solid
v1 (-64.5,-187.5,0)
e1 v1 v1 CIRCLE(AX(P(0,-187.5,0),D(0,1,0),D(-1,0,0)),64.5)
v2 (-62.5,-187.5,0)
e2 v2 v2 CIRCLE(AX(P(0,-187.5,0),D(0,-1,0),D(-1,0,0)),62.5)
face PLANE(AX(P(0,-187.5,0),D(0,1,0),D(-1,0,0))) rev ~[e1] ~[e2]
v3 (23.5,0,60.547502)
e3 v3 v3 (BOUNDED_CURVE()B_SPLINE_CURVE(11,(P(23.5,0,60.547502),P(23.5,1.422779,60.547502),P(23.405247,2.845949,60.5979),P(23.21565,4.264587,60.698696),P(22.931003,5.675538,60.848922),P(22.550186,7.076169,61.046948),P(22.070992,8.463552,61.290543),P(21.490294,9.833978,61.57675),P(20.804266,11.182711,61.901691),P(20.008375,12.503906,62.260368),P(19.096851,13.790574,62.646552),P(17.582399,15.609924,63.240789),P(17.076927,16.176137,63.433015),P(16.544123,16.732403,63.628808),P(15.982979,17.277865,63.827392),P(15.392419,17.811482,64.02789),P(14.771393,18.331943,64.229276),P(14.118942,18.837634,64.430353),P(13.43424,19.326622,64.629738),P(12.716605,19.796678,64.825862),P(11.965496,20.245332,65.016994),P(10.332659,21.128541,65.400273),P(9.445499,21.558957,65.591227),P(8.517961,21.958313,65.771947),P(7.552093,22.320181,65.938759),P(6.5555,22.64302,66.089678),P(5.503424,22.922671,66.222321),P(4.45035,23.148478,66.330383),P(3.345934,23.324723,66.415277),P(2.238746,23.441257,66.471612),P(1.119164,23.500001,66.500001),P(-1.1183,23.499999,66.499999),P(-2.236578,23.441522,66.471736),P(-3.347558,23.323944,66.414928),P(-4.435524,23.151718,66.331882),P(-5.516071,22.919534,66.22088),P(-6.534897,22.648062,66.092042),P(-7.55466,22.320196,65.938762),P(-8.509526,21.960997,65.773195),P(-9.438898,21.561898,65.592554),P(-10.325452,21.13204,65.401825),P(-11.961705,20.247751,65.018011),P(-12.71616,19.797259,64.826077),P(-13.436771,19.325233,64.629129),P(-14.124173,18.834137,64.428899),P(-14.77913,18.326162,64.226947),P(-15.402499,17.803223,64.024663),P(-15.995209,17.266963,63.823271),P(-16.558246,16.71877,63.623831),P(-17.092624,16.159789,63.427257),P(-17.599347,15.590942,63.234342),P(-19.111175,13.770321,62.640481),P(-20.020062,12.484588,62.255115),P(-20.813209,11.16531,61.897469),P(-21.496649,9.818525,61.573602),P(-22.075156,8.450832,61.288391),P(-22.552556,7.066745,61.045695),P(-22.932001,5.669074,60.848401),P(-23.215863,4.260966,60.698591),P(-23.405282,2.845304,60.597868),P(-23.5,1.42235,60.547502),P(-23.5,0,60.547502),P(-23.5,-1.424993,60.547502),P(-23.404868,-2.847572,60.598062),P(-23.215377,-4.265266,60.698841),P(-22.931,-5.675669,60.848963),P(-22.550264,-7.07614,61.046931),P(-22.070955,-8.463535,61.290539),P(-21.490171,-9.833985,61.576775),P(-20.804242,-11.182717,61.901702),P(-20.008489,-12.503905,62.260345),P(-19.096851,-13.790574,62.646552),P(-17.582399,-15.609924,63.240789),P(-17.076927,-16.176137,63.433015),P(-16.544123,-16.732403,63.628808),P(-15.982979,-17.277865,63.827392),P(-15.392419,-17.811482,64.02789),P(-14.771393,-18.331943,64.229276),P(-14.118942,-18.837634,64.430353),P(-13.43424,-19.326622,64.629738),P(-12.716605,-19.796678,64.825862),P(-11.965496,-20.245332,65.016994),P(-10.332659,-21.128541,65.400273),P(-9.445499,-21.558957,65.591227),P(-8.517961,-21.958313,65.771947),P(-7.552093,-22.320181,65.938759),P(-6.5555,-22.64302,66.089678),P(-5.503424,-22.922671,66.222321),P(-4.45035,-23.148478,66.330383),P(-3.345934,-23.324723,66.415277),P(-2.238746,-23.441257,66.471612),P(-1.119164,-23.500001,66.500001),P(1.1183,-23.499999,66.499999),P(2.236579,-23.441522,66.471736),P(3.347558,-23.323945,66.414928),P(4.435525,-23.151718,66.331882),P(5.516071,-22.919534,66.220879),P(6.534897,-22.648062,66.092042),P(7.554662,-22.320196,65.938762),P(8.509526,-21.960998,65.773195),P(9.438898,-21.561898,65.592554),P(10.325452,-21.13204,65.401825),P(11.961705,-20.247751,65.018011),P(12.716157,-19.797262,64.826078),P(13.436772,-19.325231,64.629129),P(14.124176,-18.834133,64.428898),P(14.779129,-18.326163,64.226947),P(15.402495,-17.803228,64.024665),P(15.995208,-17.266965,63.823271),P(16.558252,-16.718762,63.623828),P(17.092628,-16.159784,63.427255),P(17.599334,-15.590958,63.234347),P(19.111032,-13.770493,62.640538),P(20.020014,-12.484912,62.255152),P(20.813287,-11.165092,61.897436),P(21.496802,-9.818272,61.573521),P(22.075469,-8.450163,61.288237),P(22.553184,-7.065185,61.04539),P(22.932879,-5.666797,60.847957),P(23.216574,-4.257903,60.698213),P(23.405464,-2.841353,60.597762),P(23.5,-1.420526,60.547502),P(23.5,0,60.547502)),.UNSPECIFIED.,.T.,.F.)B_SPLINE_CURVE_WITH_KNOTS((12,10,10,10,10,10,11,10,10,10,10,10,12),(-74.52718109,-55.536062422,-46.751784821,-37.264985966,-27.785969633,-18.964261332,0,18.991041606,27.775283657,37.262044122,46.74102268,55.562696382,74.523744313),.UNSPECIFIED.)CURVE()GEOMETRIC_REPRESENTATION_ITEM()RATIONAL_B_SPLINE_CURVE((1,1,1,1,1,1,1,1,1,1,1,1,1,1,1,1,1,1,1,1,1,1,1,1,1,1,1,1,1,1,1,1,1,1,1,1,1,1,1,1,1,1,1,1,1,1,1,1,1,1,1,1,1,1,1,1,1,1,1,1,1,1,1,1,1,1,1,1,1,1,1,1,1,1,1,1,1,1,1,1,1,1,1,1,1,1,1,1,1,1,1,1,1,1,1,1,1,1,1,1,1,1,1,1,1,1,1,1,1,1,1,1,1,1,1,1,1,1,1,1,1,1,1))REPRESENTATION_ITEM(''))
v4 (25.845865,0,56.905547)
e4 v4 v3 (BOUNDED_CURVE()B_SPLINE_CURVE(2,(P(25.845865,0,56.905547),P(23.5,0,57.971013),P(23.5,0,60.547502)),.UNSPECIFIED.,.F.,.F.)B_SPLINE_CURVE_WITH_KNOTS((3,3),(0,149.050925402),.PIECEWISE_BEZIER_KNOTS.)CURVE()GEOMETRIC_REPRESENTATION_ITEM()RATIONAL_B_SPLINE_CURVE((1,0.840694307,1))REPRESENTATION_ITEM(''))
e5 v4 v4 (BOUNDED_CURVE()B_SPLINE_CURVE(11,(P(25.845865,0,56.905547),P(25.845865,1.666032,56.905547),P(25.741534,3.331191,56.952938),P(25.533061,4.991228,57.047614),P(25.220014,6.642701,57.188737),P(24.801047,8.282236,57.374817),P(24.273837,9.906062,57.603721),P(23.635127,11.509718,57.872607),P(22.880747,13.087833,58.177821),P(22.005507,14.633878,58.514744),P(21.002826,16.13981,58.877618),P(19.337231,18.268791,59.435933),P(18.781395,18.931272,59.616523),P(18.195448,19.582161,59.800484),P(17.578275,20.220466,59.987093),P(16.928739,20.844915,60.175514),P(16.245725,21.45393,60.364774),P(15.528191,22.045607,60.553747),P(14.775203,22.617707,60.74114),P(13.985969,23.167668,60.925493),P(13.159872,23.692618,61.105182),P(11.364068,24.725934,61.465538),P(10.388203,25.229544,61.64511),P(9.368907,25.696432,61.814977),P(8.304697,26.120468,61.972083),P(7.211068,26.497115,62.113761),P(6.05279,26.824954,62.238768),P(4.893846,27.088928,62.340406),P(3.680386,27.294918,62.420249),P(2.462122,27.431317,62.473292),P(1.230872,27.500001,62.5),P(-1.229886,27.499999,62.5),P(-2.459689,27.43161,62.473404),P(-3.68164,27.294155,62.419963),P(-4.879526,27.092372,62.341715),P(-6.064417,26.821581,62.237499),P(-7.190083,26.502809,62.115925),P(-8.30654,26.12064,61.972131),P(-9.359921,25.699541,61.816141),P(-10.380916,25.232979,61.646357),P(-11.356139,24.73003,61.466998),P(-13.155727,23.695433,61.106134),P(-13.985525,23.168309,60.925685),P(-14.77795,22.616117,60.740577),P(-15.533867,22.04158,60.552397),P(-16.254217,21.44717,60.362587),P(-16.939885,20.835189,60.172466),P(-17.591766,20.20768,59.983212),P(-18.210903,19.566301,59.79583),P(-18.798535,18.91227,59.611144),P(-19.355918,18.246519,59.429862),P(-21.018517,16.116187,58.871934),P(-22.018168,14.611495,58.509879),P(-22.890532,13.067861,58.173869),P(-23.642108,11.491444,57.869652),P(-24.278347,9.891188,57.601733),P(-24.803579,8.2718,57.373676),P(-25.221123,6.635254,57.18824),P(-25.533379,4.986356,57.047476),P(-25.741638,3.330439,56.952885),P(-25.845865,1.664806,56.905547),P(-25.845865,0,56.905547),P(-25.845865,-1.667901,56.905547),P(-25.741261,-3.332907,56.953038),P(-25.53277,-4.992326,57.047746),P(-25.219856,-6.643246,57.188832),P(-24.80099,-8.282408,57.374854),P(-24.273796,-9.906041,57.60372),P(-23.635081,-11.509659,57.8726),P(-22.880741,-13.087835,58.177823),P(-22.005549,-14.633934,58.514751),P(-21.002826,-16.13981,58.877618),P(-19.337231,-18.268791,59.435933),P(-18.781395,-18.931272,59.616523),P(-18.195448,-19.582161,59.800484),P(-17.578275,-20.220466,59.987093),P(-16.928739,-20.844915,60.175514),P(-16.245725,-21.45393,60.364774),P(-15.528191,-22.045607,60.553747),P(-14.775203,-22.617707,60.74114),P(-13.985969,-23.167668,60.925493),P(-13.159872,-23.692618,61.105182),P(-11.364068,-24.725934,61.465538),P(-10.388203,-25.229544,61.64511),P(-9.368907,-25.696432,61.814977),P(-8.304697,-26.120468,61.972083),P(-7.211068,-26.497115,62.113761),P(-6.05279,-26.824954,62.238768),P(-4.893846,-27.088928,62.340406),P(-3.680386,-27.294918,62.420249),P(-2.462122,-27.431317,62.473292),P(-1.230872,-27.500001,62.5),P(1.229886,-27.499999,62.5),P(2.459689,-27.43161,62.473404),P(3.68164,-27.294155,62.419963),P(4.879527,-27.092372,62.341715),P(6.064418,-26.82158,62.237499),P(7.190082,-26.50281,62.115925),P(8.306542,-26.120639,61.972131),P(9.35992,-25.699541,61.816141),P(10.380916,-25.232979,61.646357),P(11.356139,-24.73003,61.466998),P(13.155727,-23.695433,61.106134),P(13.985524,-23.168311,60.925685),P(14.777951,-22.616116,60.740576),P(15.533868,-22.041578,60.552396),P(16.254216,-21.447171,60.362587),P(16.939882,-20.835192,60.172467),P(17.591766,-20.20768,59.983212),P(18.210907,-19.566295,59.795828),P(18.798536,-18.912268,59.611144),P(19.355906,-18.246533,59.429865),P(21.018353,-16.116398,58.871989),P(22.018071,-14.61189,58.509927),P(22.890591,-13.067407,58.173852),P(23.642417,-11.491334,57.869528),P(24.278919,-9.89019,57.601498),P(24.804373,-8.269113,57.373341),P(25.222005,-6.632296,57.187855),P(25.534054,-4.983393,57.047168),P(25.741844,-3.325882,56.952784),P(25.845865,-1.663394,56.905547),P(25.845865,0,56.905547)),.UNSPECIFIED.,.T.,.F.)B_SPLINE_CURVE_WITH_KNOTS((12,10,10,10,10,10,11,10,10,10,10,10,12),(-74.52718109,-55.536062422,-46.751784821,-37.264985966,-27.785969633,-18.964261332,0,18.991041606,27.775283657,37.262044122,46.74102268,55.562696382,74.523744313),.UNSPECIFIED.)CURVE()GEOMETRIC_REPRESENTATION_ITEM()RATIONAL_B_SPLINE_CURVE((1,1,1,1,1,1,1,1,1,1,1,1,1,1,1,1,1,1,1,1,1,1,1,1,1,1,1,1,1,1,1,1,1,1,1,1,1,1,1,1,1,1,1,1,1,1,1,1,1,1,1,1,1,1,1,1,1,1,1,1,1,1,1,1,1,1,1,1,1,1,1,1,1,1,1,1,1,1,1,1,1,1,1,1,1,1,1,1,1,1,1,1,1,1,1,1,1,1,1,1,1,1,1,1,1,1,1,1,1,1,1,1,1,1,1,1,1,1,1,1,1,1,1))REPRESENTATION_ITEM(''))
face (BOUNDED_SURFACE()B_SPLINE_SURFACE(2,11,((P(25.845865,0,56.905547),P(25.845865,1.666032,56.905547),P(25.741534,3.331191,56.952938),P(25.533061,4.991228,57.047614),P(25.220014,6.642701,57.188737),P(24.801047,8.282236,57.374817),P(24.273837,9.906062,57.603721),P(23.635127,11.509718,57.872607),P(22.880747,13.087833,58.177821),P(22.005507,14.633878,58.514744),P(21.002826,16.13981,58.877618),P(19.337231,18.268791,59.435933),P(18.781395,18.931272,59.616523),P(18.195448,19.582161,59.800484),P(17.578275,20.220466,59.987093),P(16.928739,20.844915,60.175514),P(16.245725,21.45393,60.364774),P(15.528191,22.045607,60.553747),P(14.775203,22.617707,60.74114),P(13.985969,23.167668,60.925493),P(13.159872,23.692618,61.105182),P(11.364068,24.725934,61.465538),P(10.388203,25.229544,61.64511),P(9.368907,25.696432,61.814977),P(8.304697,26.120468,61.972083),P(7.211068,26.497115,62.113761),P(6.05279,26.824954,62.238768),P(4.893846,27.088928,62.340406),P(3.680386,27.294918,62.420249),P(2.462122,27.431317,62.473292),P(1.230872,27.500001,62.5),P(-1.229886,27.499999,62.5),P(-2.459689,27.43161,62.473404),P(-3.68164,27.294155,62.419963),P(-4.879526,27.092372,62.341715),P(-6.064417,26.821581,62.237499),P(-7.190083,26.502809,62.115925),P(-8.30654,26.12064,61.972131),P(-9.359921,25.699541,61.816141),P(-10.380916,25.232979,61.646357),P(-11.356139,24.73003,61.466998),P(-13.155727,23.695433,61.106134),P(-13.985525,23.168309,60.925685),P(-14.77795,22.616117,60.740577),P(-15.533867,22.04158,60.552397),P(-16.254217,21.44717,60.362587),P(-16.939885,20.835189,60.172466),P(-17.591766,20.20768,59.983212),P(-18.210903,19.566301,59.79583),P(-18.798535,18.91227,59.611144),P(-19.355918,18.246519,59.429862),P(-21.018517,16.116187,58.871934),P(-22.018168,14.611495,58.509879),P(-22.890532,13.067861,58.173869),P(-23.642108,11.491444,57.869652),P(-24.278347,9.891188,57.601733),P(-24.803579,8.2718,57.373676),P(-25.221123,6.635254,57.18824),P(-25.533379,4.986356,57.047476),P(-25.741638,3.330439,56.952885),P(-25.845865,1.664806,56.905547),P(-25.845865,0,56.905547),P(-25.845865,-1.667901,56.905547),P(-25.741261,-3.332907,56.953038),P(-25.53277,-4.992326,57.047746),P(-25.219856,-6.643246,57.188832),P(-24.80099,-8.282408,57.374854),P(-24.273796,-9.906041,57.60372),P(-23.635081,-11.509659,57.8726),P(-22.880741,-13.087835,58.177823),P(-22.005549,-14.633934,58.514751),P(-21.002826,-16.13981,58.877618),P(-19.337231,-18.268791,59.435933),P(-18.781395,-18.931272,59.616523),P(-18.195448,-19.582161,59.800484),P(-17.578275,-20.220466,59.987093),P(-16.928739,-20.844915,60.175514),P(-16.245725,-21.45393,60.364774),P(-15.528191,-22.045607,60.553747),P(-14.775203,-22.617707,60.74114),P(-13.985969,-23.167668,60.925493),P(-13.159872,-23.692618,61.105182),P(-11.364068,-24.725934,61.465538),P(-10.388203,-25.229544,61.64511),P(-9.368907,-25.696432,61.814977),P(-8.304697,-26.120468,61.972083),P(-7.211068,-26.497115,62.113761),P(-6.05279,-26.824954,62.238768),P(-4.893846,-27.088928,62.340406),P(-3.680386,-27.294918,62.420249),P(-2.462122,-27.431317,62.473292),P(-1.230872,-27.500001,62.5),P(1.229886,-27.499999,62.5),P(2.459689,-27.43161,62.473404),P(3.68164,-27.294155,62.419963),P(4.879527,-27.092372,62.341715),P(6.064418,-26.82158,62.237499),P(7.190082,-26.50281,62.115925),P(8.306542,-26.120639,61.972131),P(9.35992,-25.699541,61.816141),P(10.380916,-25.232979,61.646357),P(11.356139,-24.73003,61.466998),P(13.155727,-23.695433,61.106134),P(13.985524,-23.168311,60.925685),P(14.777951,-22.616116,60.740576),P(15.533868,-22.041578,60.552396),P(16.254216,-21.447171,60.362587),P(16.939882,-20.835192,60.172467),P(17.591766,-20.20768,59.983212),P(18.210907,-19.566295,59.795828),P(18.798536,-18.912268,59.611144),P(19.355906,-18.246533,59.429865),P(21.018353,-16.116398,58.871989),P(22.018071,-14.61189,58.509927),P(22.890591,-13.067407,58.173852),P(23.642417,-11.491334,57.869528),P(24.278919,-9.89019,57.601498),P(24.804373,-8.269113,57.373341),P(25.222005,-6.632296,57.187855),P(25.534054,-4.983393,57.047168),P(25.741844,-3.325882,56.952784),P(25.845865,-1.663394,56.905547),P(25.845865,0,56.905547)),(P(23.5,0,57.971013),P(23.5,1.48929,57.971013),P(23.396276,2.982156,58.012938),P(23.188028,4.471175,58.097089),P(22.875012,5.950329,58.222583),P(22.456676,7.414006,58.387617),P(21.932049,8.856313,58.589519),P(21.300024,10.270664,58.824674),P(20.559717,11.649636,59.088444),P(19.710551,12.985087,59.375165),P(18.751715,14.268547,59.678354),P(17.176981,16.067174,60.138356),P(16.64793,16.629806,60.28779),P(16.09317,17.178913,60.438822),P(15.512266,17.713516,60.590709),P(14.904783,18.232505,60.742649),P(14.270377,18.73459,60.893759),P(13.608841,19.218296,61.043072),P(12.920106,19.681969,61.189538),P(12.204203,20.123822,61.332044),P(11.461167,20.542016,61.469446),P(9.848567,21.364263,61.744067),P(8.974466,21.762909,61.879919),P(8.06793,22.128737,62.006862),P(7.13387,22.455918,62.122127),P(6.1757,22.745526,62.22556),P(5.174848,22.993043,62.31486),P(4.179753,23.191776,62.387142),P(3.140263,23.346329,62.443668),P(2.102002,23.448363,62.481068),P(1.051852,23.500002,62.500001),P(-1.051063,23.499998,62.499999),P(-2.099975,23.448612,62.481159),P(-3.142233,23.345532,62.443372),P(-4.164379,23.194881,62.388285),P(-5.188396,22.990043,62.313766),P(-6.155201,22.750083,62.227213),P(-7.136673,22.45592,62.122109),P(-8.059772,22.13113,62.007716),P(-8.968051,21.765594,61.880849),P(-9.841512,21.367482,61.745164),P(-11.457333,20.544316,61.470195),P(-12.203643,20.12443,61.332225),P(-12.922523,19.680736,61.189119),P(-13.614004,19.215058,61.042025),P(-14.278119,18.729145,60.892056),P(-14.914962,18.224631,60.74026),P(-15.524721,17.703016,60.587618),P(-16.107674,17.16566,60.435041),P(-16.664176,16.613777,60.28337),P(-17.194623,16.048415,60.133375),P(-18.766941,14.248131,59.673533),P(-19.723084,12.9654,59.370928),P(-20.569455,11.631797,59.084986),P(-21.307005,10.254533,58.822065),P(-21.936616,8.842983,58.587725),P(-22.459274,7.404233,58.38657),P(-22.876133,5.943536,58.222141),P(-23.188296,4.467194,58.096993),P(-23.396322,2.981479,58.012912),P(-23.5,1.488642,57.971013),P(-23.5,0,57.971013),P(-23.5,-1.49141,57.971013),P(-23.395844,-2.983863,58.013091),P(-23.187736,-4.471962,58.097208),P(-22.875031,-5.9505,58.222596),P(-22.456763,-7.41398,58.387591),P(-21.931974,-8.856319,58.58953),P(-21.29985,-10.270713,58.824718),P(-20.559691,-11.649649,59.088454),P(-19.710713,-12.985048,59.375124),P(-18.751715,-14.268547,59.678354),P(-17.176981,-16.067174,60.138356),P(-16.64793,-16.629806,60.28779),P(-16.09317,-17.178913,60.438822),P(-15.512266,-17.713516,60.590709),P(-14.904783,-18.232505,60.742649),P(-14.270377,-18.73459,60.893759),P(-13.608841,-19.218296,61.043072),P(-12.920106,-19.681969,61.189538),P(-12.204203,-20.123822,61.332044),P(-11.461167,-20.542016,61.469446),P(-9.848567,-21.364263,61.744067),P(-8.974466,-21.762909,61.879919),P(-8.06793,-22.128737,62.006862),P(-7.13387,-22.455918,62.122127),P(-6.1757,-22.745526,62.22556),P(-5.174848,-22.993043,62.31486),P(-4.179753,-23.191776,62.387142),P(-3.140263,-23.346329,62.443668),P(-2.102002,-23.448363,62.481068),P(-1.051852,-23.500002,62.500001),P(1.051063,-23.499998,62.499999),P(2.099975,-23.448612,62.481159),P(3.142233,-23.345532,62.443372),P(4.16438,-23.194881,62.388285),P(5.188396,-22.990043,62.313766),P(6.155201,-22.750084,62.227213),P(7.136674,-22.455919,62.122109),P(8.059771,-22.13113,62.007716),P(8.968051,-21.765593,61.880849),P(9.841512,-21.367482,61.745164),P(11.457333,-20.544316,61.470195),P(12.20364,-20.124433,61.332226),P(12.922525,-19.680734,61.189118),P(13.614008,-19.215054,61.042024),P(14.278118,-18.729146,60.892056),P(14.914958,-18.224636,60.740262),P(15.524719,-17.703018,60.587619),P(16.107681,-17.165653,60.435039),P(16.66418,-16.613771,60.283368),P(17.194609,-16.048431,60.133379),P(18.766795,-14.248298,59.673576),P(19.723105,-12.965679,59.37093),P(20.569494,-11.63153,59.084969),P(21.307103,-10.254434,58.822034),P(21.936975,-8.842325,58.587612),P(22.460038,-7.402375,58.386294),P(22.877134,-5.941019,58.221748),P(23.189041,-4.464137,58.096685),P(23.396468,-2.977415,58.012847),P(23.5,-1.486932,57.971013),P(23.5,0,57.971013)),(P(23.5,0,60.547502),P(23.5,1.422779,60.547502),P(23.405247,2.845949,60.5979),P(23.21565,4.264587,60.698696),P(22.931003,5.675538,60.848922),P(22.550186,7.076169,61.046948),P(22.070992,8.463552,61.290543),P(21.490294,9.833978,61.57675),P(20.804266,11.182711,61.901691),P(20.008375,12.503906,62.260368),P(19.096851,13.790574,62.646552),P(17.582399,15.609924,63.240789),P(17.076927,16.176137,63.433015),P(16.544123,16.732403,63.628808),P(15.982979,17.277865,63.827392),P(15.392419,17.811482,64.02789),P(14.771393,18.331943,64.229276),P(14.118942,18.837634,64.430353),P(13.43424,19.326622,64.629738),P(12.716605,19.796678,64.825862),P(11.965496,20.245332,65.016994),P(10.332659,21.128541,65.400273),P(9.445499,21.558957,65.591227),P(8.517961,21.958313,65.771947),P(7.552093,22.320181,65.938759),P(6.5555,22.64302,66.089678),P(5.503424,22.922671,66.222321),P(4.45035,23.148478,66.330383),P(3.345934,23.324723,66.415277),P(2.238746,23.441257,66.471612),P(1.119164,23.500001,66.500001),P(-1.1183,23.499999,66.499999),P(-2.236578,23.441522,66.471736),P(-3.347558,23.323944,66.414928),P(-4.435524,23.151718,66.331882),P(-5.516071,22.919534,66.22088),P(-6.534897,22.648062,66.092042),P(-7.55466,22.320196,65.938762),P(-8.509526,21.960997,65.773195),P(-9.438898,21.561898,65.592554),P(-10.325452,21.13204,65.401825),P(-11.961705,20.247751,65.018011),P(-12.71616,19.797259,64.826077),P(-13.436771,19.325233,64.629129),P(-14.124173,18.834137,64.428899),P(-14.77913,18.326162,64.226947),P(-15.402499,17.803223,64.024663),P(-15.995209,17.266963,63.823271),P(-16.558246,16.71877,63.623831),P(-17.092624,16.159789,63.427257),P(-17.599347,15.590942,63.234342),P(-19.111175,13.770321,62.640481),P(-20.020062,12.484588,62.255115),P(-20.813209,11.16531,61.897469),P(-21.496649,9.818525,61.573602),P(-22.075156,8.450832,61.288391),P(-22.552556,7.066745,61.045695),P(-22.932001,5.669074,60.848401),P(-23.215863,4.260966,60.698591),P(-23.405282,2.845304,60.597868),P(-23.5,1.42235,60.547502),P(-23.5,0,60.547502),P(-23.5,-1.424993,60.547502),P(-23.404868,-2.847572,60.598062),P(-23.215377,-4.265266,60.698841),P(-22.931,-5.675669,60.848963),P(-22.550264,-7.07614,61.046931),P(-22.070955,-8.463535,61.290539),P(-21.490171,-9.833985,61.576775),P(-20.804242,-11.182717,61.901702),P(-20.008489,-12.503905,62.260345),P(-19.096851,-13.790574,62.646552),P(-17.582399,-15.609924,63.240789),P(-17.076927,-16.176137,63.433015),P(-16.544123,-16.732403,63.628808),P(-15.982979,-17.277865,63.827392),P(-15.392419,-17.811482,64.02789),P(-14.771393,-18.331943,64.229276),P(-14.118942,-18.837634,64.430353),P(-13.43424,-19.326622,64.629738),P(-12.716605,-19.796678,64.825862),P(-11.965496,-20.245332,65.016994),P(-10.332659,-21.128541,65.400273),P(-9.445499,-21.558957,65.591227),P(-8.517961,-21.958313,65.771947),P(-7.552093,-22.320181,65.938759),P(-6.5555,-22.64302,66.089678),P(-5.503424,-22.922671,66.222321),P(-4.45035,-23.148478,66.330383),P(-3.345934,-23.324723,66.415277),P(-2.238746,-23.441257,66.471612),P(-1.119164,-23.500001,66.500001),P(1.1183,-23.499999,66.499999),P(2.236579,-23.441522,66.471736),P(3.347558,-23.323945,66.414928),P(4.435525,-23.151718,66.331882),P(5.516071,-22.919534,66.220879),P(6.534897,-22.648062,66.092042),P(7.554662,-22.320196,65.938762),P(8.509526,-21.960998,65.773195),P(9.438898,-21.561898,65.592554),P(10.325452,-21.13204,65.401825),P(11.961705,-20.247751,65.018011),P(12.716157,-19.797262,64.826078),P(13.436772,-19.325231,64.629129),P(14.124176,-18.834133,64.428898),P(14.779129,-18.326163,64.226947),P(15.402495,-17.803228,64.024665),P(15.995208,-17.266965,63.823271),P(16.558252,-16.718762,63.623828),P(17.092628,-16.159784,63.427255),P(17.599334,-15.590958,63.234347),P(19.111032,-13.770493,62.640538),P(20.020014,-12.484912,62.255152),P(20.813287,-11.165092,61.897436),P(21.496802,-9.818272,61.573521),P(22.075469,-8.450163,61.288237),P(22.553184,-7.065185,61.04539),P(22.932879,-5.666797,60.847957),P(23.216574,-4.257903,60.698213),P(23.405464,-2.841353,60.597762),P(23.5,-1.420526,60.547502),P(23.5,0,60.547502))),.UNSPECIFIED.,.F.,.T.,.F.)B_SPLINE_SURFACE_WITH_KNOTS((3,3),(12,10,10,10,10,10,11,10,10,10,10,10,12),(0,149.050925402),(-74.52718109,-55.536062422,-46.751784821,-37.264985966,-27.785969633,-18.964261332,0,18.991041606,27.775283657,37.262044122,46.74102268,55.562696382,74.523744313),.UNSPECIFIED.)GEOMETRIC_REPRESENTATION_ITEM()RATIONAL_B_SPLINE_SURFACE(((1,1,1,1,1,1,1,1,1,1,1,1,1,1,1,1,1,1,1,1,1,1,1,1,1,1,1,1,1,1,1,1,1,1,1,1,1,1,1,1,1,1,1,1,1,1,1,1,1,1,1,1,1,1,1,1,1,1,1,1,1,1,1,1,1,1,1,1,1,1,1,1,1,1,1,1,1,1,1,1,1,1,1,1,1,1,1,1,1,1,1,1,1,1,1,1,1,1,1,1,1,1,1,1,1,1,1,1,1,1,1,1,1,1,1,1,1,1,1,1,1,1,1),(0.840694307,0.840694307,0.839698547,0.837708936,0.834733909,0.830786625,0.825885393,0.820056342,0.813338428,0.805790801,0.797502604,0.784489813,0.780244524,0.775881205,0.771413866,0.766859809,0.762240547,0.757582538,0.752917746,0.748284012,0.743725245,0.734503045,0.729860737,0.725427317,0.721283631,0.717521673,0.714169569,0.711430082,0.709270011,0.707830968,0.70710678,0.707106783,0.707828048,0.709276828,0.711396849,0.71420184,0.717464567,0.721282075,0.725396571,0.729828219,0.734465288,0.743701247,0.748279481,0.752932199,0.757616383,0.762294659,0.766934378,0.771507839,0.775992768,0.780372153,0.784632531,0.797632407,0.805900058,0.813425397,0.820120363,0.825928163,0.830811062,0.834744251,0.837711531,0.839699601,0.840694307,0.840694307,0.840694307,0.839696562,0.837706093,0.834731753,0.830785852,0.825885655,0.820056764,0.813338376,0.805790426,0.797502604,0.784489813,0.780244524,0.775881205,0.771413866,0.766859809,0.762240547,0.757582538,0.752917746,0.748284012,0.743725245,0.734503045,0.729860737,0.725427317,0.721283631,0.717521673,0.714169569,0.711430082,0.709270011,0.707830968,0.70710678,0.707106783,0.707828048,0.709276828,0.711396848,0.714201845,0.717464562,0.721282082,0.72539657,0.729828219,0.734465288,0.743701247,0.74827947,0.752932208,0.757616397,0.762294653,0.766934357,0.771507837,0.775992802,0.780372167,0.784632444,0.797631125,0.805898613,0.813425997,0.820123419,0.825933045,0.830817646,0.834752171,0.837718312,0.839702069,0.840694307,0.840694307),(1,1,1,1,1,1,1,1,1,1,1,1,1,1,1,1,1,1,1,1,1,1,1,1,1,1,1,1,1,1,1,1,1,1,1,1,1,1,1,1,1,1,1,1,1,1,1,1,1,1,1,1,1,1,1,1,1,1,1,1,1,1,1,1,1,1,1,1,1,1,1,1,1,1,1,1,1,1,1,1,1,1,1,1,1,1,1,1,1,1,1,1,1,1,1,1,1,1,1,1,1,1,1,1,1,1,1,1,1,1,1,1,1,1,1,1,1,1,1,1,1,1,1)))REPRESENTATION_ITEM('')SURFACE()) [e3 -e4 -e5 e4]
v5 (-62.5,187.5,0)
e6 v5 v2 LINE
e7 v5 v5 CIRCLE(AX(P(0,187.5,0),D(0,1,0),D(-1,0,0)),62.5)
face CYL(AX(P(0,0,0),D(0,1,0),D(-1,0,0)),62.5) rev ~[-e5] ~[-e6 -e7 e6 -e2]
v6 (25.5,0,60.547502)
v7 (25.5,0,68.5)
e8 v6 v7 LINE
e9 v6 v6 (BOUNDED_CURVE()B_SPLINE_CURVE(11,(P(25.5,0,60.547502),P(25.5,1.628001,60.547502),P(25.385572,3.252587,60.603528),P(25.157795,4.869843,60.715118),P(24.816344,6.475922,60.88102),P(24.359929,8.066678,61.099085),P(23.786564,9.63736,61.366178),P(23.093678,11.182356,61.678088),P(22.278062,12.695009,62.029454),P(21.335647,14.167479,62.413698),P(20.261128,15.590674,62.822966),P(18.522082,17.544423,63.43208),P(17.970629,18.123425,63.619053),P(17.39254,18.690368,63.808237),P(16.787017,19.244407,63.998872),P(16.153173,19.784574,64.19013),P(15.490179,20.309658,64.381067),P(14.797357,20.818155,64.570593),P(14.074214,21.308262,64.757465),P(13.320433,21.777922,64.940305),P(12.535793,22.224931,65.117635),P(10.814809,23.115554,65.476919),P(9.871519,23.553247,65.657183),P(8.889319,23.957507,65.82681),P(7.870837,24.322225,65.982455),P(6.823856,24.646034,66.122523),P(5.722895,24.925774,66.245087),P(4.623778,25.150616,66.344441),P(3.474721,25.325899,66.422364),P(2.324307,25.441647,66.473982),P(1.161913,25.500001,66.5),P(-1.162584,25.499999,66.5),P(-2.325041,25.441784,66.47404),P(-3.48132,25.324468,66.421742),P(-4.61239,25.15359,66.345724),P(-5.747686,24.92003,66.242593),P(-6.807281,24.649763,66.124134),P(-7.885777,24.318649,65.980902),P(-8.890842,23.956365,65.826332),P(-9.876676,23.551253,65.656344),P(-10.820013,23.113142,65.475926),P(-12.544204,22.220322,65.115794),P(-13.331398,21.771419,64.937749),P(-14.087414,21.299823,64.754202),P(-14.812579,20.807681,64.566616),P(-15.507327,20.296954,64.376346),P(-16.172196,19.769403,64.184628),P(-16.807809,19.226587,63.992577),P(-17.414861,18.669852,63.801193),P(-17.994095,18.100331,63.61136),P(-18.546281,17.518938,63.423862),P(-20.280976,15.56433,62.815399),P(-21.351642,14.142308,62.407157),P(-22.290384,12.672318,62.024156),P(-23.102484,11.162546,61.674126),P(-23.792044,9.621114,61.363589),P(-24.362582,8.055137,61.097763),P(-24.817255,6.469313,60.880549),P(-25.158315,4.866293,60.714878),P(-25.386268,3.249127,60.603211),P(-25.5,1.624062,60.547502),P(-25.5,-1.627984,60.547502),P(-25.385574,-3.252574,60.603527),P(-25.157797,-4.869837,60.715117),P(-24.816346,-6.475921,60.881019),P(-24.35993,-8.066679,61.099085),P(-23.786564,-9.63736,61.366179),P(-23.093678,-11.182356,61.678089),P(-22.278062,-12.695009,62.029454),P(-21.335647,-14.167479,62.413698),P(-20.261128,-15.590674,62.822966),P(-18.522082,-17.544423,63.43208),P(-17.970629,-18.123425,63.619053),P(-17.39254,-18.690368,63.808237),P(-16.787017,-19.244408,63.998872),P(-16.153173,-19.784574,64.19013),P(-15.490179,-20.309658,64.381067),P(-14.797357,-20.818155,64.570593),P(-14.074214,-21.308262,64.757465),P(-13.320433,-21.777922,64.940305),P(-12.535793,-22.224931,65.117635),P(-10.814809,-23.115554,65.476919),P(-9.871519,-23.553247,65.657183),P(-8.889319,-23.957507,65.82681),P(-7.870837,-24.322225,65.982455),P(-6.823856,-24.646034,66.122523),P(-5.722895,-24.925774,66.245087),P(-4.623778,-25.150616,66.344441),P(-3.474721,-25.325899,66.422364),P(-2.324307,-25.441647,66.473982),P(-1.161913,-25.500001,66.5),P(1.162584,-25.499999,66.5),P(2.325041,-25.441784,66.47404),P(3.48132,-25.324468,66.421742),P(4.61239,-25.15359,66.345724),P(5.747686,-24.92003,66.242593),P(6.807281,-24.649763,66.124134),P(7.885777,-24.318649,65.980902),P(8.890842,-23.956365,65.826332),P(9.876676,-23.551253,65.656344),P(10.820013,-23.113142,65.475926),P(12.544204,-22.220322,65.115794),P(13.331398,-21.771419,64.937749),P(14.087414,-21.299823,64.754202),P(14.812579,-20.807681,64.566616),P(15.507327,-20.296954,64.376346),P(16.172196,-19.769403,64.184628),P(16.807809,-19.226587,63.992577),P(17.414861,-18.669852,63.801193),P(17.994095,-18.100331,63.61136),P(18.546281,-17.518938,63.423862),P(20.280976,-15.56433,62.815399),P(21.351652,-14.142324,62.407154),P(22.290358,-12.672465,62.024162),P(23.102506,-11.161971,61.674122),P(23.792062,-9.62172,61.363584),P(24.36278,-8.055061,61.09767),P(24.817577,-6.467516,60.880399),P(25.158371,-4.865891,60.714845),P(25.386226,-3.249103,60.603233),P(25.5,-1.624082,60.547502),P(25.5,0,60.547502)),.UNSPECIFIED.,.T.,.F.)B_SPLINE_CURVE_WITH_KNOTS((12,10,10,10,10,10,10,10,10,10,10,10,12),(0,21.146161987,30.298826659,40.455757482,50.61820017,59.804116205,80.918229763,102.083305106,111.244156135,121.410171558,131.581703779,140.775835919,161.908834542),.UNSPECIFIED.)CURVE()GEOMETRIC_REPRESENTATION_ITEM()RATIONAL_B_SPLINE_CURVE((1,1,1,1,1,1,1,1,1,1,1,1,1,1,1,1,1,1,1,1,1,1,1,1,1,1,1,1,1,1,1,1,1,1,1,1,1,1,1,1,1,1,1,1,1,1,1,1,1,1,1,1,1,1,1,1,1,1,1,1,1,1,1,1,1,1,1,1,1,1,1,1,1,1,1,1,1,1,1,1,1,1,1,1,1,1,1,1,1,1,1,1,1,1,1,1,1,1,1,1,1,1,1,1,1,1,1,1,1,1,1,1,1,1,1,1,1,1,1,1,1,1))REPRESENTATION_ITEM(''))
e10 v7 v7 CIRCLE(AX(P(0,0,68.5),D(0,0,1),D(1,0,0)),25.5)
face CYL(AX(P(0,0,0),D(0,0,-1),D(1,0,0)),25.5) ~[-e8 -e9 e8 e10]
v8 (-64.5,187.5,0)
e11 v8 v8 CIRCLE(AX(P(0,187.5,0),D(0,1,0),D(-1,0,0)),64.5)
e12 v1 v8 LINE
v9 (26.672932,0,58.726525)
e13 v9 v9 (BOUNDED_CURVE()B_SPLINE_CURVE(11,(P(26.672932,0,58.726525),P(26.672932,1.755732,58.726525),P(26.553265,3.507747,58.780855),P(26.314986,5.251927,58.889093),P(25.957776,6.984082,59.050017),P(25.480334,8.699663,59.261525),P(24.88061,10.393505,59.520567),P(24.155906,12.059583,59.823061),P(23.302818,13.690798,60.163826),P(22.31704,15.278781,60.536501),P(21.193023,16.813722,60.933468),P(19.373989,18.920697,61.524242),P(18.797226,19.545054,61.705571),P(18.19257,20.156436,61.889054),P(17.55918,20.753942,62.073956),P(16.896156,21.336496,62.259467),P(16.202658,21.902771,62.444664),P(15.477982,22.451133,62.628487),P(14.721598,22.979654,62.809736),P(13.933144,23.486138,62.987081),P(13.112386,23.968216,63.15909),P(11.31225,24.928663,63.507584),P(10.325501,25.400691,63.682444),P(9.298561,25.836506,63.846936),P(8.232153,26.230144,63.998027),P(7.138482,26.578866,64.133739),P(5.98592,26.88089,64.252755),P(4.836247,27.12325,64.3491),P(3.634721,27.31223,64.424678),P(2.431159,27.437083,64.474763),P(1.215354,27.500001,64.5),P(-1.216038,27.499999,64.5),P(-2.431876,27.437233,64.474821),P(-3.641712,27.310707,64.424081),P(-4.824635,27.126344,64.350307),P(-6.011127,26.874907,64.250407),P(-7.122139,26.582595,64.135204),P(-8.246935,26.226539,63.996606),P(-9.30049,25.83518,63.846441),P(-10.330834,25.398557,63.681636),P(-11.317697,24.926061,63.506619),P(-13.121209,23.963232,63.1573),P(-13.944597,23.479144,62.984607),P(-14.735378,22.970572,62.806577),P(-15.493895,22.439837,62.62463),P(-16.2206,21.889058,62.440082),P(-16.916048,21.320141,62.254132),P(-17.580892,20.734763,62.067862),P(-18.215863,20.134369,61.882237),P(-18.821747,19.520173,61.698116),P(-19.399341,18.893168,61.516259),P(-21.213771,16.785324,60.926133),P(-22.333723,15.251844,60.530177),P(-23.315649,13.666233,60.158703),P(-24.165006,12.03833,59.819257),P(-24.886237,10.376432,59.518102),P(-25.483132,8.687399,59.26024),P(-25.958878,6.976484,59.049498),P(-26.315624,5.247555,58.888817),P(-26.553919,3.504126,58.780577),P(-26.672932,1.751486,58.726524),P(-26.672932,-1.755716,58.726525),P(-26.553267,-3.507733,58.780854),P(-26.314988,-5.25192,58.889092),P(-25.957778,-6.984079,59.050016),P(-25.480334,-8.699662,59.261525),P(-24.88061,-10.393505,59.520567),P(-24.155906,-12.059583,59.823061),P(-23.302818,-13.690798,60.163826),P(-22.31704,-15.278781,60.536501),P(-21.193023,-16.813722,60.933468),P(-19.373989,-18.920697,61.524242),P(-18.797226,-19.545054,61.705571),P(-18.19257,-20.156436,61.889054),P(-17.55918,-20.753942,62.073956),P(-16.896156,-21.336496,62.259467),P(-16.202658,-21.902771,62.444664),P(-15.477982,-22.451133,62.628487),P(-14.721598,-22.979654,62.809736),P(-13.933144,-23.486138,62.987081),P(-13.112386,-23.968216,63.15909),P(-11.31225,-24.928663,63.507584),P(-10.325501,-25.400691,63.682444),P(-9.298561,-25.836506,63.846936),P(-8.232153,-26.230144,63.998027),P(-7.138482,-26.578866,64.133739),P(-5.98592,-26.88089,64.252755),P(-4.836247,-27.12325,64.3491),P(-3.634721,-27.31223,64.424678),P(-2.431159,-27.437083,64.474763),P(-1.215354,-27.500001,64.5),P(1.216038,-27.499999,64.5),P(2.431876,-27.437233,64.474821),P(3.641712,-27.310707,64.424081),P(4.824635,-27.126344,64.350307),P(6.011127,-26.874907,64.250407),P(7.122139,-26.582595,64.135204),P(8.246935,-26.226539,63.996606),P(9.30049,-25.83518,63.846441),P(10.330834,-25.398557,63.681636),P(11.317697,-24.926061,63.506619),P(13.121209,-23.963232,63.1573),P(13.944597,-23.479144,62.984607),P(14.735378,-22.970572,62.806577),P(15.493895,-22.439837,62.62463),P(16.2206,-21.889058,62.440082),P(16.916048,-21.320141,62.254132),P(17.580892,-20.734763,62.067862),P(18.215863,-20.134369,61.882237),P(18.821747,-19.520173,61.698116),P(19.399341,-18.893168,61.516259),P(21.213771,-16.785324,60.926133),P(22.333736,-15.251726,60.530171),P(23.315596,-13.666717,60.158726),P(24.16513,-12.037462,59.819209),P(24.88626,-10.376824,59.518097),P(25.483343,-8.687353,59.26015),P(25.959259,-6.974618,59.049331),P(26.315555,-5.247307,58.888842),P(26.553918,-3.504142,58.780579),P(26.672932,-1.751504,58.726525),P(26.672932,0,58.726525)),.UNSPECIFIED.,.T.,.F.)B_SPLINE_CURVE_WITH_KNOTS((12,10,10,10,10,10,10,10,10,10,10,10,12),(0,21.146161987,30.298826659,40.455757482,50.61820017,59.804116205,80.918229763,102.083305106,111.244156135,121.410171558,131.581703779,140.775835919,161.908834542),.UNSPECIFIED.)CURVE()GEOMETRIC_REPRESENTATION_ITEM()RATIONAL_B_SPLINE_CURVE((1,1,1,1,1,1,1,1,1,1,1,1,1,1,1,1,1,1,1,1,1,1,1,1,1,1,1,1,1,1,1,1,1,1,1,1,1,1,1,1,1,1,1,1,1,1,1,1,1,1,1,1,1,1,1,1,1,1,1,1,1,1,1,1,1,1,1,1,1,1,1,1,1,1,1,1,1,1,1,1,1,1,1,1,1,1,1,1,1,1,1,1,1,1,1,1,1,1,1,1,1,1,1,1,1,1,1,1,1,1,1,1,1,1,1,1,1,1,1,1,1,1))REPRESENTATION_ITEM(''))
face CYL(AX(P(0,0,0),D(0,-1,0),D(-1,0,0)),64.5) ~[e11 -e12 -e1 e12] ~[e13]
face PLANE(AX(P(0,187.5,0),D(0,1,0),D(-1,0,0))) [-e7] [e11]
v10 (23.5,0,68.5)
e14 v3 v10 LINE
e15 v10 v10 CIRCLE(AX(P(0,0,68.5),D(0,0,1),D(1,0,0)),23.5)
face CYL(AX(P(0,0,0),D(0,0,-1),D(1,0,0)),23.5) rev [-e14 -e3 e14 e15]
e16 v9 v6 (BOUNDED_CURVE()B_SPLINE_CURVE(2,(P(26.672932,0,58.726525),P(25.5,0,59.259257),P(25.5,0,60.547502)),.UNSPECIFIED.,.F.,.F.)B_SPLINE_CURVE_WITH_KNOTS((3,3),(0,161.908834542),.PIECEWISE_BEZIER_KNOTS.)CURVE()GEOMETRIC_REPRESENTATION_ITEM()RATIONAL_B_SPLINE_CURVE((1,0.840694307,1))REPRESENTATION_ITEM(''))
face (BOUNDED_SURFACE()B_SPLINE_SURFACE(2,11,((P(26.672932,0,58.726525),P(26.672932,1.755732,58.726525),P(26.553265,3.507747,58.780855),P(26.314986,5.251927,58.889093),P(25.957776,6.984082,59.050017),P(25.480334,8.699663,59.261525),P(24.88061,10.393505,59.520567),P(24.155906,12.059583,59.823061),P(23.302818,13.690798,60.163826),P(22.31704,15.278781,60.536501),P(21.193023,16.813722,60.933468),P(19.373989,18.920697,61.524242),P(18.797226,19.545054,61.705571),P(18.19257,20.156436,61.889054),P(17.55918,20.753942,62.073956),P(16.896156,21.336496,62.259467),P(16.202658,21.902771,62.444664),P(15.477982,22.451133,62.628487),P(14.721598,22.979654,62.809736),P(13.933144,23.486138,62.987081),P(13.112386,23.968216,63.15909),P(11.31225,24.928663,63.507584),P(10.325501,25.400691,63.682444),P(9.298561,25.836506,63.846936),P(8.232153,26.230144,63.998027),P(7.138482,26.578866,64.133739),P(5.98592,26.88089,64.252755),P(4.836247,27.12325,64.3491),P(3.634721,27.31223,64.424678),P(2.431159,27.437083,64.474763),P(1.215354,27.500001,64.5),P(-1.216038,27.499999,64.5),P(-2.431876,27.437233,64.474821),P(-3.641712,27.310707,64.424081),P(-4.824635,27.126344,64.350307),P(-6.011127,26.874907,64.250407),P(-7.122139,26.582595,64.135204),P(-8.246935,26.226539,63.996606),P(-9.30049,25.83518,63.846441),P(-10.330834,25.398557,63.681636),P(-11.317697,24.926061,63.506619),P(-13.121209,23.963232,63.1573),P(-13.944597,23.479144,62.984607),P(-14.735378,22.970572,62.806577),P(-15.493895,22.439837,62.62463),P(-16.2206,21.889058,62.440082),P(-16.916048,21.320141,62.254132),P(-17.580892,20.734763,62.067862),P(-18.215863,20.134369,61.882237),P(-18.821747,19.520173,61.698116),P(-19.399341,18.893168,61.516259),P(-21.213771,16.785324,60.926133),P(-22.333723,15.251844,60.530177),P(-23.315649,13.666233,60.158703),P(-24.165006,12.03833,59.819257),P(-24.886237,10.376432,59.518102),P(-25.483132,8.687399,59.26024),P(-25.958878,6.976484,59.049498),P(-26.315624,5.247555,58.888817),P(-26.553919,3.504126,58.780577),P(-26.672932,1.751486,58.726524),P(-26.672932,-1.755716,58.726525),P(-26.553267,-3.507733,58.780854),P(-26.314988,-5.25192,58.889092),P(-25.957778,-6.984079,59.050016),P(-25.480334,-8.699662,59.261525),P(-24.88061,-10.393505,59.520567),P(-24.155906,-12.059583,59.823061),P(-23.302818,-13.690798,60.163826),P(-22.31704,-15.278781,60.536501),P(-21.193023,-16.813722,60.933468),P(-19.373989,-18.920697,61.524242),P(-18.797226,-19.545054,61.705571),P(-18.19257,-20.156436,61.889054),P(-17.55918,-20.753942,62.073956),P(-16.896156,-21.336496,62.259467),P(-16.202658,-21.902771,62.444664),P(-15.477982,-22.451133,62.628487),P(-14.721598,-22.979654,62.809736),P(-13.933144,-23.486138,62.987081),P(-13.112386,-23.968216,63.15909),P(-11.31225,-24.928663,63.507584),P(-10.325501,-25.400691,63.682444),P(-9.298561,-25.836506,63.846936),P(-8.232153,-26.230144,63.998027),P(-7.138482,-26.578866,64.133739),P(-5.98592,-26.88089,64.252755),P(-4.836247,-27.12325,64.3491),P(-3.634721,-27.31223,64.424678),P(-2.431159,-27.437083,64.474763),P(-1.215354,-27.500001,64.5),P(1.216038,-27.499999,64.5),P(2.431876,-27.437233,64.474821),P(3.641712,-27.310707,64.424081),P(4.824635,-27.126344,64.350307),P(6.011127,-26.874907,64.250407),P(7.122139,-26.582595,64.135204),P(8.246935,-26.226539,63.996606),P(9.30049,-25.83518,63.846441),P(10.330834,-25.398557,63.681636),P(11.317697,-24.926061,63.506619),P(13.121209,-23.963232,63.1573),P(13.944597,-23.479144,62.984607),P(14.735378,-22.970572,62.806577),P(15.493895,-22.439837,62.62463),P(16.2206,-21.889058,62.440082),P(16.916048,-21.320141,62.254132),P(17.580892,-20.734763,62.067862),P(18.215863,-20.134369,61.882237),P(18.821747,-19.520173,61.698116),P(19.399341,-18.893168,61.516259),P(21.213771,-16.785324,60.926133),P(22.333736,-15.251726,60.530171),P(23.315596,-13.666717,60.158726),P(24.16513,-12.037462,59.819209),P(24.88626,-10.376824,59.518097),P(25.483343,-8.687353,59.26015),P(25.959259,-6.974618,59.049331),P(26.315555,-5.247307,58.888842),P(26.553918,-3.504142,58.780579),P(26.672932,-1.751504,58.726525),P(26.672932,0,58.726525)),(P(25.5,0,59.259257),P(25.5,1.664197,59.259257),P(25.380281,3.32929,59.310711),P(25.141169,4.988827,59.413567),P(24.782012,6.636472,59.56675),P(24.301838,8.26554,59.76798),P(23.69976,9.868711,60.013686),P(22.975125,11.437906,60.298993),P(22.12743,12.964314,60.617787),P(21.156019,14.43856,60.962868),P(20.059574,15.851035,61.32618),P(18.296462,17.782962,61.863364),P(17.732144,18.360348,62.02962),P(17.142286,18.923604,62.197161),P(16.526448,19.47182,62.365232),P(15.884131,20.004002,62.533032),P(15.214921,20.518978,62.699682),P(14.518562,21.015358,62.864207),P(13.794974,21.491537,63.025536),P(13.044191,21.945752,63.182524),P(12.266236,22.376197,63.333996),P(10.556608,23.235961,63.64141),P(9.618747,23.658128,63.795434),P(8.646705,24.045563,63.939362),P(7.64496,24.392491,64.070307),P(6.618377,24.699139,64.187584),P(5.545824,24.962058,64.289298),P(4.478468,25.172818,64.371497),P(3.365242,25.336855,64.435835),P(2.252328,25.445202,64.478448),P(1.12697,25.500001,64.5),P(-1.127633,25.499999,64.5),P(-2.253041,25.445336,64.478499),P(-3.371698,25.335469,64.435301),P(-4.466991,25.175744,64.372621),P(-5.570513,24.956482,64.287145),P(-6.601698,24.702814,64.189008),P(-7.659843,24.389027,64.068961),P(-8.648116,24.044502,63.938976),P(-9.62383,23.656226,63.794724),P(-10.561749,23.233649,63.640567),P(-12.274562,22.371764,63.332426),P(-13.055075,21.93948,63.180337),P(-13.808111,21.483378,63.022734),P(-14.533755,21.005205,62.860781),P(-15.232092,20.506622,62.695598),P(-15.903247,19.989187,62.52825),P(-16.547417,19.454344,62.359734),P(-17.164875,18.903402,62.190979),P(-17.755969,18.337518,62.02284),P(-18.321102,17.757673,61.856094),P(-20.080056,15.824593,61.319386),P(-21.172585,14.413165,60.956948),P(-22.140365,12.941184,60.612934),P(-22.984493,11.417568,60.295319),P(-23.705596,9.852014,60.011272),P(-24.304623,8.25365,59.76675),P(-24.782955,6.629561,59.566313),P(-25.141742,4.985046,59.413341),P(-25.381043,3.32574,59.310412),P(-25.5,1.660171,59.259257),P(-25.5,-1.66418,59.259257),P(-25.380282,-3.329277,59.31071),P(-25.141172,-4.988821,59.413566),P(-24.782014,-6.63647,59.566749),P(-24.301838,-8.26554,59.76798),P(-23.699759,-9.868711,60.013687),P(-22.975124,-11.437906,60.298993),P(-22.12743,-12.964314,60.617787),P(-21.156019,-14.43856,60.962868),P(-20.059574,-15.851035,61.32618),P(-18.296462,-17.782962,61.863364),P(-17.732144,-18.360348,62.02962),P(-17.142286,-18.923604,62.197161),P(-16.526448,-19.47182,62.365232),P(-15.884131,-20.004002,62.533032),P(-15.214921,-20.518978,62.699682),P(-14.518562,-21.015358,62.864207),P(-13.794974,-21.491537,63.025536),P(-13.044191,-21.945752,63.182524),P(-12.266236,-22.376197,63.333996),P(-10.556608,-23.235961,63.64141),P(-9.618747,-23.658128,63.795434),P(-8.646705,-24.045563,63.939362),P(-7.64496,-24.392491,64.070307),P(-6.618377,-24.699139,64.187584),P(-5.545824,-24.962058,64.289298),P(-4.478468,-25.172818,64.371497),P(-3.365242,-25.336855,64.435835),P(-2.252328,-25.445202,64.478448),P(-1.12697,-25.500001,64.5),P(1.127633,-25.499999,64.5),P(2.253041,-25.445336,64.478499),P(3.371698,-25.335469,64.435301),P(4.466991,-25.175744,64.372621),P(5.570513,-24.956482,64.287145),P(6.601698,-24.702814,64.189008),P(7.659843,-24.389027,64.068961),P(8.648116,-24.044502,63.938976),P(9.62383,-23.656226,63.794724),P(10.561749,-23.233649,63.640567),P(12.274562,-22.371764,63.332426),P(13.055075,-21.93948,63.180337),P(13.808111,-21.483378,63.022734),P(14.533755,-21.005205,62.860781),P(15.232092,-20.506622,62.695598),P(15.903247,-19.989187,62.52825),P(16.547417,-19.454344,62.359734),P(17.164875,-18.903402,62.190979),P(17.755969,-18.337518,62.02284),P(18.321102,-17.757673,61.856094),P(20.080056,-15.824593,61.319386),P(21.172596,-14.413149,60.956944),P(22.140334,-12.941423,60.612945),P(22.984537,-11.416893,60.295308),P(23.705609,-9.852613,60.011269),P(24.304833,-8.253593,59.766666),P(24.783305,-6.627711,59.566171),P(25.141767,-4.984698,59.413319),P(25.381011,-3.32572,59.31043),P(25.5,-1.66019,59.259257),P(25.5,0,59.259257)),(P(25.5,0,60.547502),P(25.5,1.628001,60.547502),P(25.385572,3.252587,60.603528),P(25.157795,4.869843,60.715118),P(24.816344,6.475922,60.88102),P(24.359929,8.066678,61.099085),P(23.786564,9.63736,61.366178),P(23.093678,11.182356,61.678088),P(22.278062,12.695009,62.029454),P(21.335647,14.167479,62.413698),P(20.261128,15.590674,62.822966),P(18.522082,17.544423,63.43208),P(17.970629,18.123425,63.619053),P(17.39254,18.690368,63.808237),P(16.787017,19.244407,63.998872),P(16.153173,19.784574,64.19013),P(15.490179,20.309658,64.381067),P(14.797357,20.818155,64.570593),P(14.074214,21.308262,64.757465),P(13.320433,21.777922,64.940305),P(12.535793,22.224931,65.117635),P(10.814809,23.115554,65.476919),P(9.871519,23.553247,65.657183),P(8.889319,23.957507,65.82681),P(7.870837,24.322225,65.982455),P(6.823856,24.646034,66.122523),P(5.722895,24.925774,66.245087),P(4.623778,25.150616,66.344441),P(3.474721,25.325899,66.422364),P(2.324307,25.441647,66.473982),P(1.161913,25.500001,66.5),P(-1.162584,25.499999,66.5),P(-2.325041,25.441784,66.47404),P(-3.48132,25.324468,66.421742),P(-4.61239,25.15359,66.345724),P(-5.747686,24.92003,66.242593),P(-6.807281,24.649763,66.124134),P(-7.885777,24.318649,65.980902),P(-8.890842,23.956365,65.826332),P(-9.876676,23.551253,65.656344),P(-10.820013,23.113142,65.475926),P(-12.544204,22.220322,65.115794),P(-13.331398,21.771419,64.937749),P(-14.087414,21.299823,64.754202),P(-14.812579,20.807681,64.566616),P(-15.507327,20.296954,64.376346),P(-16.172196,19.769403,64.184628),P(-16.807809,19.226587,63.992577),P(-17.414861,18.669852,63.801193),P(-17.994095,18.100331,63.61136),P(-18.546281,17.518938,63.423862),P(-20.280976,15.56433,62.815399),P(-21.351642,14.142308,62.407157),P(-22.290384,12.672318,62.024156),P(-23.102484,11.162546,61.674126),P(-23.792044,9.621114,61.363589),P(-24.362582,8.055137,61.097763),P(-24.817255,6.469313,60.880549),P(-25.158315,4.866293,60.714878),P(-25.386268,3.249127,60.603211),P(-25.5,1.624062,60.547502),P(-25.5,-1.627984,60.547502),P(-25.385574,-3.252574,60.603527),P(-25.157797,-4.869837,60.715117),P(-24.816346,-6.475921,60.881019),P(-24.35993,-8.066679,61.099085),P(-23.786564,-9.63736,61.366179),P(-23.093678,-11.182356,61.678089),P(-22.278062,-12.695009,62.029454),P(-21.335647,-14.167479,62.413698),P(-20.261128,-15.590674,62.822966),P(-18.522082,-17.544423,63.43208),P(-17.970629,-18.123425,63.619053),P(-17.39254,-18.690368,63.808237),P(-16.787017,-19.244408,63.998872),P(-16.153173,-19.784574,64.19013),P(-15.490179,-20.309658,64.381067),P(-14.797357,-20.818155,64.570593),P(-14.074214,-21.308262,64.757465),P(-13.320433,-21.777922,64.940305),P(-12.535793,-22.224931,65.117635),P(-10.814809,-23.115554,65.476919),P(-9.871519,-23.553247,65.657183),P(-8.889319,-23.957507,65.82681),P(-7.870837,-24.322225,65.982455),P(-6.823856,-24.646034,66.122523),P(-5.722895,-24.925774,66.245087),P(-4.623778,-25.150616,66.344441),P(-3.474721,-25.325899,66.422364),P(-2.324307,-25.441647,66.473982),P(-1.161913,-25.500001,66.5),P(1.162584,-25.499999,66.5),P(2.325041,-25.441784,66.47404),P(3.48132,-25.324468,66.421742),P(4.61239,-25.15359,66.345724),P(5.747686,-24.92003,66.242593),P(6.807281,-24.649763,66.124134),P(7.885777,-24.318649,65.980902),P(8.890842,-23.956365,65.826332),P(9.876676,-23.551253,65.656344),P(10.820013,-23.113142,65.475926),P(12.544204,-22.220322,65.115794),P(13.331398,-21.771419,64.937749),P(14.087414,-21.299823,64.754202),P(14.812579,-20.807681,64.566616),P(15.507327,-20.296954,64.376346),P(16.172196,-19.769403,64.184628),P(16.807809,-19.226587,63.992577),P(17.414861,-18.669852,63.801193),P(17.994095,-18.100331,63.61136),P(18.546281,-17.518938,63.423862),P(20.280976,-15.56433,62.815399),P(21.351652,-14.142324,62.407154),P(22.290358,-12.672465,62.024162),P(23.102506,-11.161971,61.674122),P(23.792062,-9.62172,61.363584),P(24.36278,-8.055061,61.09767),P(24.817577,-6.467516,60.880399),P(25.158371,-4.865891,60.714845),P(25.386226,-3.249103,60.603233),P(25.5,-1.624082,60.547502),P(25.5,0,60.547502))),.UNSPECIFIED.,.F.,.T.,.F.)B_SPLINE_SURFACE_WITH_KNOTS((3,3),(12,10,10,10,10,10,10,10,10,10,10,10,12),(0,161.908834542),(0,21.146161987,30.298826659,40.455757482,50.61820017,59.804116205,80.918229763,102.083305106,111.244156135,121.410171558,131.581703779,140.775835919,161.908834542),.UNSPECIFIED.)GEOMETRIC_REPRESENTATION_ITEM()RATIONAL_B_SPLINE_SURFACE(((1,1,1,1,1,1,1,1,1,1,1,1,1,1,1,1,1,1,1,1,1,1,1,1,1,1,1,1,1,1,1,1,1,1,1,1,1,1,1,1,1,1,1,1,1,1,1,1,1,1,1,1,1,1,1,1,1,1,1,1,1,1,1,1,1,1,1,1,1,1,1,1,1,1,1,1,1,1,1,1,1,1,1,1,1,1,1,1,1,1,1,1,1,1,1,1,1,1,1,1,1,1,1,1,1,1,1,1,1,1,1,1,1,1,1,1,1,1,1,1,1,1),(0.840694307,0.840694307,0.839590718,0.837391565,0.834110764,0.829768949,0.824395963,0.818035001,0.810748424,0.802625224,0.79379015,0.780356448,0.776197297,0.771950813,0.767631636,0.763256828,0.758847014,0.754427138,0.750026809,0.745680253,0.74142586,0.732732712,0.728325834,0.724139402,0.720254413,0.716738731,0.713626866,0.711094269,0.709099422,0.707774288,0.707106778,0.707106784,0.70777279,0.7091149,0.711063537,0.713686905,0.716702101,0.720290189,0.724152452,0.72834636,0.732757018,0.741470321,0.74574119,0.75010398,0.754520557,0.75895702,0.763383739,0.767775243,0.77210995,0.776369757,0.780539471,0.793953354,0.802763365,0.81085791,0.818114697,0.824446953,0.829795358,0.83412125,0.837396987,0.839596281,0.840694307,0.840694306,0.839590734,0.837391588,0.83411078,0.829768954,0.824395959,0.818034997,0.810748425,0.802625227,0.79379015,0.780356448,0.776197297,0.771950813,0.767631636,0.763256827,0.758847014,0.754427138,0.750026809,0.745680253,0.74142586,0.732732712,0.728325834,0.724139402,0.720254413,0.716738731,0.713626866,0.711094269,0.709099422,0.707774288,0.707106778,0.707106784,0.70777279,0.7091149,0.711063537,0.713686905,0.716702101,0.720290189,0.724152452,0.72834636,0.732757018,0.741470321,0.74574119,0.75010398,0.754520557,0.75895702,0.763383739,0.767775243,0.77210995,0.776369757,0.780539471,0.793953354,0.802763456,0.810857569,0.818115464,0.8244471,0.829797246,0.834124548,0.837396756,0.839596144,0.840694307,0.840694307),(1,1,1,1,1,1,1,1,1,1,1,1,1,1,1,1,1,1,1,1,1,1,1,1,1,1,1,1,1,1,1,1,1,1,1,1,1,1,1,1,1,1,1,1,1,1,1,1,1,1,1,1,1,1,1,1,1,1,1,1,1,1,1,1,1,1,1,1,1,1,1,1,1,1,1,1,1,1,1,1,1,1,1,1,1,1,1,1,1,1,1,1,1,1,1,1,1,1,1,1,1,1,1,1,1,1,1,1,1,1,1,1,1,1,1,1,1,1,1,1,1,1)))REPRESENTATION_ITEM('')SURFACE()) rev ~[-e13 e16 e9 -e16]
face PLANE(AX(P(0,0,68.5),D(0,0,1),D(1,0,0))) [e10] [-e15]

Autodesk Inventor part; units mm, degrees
ref_plane "YZ Plane" through (0, 0, 0) normal (1, 0, 0) x (0, 1, 0)
ref_plane "XZ Plane" through (0, 0, 0) normal (0, 1, 0) x (-1, 0, 0)
ref_plane "XY Plane" through (0, 0, 0) normal (0, 0, 1) x (1, 0, 0)
sketch "Szkic8" plane through (0, 0, 0) normal (0, 1, 0) x (-1, 0, 0)
  circle A0 centre (0, 0) radius 64.5
  circle A1 centre (0, 0) radius 62.5
  dimension "d53" = 129
  dimension "d54" = 2
extrude "Wyciągnięcie proste2" add sketch "Szkic8" along normal mid plane 375
sketch "Szkic13" plane through (0, 0, 0) normal (0, 0, 1) x (1, 0, 0)
  circle A0 centre (0, 0) radius 25.5
  circle A1 centre (0, 0) radius 23.5
  dimension "d67" = 51
  dimension "d68" = 2
extrude "Wyciągnięcie proste6" add sketch "Szkic13" along normal blind 68.5
sketch "Szkic14" plane through (0, 0, 68.5) normal (0, 0, 1) x (1, 0, 0)
  circle A0 centre (0, 0) radius 23.5 projected
extrude "Wyciągnięcie proste7" cut sketch "Szkic14" against normal blind 68.5
sketch "Szkic15" plane through (0, -187.5, 0) normal (0, -1, 0) x (1, 0, 0)
  circle A0 centre (0, 0) radius 62.5 projected
extrude "Wyciągnięcie proste8" cut sketch "Szkic15" against normal blind 375
fillet "Zaokrąglenie3" radius 2 2 edges at (-0.0041, 25.5, 64.5) (0.0041, -25.5, 64.5)
fillet "Zaokrąglenie4" radius 4 2 edges at (-0.0002, -23.5, 62.5) (-0.0017, 23.5, 62.5)
equation "\"d53\" = OD"
equation "\"d54\" = THK"
equation "\"d55\" = L1"
equation "\"d67\" = OD2"
equation "\"d68\" = THK"
equation "\"d69\" = L2"
equation "\"d71\" = L2"
equation "\"d73\" = L1"
equation "\"d75\" = THK"
equation "\"d76\" = 2 * THK"
equation "\"SzerokośćGięciaPodcięcia\" = Grubość"
equation "\"RozmiarPodcięciaNarożnika\" = 4 * Grubość"
equation "\"PromieńPrzejścia\" = PromieńGięcia"
equation "\"Rozmiar_promienia_Jacobiego\" = PromieńGięcia"
equation "\"Wielk_odstępu\" = Grubość"
equation "\"d2\" = PromieńGięcia"
equation "\"d23\" = PromieńGięcia"
equation "\"OD\" = 129"
equation "\"THK\" = 2"
equation "\"L1\" = 375"
equation "\"L2\" = 68.5"
equation "\"OD2\" = 51"
equation "\"Grubość\" = 1.5"
equation "\"PromieńGięcia\" = 3"
properties part number "Trójnik red. krótki  Ø129 51 129 s=2 L=375" material "304"
